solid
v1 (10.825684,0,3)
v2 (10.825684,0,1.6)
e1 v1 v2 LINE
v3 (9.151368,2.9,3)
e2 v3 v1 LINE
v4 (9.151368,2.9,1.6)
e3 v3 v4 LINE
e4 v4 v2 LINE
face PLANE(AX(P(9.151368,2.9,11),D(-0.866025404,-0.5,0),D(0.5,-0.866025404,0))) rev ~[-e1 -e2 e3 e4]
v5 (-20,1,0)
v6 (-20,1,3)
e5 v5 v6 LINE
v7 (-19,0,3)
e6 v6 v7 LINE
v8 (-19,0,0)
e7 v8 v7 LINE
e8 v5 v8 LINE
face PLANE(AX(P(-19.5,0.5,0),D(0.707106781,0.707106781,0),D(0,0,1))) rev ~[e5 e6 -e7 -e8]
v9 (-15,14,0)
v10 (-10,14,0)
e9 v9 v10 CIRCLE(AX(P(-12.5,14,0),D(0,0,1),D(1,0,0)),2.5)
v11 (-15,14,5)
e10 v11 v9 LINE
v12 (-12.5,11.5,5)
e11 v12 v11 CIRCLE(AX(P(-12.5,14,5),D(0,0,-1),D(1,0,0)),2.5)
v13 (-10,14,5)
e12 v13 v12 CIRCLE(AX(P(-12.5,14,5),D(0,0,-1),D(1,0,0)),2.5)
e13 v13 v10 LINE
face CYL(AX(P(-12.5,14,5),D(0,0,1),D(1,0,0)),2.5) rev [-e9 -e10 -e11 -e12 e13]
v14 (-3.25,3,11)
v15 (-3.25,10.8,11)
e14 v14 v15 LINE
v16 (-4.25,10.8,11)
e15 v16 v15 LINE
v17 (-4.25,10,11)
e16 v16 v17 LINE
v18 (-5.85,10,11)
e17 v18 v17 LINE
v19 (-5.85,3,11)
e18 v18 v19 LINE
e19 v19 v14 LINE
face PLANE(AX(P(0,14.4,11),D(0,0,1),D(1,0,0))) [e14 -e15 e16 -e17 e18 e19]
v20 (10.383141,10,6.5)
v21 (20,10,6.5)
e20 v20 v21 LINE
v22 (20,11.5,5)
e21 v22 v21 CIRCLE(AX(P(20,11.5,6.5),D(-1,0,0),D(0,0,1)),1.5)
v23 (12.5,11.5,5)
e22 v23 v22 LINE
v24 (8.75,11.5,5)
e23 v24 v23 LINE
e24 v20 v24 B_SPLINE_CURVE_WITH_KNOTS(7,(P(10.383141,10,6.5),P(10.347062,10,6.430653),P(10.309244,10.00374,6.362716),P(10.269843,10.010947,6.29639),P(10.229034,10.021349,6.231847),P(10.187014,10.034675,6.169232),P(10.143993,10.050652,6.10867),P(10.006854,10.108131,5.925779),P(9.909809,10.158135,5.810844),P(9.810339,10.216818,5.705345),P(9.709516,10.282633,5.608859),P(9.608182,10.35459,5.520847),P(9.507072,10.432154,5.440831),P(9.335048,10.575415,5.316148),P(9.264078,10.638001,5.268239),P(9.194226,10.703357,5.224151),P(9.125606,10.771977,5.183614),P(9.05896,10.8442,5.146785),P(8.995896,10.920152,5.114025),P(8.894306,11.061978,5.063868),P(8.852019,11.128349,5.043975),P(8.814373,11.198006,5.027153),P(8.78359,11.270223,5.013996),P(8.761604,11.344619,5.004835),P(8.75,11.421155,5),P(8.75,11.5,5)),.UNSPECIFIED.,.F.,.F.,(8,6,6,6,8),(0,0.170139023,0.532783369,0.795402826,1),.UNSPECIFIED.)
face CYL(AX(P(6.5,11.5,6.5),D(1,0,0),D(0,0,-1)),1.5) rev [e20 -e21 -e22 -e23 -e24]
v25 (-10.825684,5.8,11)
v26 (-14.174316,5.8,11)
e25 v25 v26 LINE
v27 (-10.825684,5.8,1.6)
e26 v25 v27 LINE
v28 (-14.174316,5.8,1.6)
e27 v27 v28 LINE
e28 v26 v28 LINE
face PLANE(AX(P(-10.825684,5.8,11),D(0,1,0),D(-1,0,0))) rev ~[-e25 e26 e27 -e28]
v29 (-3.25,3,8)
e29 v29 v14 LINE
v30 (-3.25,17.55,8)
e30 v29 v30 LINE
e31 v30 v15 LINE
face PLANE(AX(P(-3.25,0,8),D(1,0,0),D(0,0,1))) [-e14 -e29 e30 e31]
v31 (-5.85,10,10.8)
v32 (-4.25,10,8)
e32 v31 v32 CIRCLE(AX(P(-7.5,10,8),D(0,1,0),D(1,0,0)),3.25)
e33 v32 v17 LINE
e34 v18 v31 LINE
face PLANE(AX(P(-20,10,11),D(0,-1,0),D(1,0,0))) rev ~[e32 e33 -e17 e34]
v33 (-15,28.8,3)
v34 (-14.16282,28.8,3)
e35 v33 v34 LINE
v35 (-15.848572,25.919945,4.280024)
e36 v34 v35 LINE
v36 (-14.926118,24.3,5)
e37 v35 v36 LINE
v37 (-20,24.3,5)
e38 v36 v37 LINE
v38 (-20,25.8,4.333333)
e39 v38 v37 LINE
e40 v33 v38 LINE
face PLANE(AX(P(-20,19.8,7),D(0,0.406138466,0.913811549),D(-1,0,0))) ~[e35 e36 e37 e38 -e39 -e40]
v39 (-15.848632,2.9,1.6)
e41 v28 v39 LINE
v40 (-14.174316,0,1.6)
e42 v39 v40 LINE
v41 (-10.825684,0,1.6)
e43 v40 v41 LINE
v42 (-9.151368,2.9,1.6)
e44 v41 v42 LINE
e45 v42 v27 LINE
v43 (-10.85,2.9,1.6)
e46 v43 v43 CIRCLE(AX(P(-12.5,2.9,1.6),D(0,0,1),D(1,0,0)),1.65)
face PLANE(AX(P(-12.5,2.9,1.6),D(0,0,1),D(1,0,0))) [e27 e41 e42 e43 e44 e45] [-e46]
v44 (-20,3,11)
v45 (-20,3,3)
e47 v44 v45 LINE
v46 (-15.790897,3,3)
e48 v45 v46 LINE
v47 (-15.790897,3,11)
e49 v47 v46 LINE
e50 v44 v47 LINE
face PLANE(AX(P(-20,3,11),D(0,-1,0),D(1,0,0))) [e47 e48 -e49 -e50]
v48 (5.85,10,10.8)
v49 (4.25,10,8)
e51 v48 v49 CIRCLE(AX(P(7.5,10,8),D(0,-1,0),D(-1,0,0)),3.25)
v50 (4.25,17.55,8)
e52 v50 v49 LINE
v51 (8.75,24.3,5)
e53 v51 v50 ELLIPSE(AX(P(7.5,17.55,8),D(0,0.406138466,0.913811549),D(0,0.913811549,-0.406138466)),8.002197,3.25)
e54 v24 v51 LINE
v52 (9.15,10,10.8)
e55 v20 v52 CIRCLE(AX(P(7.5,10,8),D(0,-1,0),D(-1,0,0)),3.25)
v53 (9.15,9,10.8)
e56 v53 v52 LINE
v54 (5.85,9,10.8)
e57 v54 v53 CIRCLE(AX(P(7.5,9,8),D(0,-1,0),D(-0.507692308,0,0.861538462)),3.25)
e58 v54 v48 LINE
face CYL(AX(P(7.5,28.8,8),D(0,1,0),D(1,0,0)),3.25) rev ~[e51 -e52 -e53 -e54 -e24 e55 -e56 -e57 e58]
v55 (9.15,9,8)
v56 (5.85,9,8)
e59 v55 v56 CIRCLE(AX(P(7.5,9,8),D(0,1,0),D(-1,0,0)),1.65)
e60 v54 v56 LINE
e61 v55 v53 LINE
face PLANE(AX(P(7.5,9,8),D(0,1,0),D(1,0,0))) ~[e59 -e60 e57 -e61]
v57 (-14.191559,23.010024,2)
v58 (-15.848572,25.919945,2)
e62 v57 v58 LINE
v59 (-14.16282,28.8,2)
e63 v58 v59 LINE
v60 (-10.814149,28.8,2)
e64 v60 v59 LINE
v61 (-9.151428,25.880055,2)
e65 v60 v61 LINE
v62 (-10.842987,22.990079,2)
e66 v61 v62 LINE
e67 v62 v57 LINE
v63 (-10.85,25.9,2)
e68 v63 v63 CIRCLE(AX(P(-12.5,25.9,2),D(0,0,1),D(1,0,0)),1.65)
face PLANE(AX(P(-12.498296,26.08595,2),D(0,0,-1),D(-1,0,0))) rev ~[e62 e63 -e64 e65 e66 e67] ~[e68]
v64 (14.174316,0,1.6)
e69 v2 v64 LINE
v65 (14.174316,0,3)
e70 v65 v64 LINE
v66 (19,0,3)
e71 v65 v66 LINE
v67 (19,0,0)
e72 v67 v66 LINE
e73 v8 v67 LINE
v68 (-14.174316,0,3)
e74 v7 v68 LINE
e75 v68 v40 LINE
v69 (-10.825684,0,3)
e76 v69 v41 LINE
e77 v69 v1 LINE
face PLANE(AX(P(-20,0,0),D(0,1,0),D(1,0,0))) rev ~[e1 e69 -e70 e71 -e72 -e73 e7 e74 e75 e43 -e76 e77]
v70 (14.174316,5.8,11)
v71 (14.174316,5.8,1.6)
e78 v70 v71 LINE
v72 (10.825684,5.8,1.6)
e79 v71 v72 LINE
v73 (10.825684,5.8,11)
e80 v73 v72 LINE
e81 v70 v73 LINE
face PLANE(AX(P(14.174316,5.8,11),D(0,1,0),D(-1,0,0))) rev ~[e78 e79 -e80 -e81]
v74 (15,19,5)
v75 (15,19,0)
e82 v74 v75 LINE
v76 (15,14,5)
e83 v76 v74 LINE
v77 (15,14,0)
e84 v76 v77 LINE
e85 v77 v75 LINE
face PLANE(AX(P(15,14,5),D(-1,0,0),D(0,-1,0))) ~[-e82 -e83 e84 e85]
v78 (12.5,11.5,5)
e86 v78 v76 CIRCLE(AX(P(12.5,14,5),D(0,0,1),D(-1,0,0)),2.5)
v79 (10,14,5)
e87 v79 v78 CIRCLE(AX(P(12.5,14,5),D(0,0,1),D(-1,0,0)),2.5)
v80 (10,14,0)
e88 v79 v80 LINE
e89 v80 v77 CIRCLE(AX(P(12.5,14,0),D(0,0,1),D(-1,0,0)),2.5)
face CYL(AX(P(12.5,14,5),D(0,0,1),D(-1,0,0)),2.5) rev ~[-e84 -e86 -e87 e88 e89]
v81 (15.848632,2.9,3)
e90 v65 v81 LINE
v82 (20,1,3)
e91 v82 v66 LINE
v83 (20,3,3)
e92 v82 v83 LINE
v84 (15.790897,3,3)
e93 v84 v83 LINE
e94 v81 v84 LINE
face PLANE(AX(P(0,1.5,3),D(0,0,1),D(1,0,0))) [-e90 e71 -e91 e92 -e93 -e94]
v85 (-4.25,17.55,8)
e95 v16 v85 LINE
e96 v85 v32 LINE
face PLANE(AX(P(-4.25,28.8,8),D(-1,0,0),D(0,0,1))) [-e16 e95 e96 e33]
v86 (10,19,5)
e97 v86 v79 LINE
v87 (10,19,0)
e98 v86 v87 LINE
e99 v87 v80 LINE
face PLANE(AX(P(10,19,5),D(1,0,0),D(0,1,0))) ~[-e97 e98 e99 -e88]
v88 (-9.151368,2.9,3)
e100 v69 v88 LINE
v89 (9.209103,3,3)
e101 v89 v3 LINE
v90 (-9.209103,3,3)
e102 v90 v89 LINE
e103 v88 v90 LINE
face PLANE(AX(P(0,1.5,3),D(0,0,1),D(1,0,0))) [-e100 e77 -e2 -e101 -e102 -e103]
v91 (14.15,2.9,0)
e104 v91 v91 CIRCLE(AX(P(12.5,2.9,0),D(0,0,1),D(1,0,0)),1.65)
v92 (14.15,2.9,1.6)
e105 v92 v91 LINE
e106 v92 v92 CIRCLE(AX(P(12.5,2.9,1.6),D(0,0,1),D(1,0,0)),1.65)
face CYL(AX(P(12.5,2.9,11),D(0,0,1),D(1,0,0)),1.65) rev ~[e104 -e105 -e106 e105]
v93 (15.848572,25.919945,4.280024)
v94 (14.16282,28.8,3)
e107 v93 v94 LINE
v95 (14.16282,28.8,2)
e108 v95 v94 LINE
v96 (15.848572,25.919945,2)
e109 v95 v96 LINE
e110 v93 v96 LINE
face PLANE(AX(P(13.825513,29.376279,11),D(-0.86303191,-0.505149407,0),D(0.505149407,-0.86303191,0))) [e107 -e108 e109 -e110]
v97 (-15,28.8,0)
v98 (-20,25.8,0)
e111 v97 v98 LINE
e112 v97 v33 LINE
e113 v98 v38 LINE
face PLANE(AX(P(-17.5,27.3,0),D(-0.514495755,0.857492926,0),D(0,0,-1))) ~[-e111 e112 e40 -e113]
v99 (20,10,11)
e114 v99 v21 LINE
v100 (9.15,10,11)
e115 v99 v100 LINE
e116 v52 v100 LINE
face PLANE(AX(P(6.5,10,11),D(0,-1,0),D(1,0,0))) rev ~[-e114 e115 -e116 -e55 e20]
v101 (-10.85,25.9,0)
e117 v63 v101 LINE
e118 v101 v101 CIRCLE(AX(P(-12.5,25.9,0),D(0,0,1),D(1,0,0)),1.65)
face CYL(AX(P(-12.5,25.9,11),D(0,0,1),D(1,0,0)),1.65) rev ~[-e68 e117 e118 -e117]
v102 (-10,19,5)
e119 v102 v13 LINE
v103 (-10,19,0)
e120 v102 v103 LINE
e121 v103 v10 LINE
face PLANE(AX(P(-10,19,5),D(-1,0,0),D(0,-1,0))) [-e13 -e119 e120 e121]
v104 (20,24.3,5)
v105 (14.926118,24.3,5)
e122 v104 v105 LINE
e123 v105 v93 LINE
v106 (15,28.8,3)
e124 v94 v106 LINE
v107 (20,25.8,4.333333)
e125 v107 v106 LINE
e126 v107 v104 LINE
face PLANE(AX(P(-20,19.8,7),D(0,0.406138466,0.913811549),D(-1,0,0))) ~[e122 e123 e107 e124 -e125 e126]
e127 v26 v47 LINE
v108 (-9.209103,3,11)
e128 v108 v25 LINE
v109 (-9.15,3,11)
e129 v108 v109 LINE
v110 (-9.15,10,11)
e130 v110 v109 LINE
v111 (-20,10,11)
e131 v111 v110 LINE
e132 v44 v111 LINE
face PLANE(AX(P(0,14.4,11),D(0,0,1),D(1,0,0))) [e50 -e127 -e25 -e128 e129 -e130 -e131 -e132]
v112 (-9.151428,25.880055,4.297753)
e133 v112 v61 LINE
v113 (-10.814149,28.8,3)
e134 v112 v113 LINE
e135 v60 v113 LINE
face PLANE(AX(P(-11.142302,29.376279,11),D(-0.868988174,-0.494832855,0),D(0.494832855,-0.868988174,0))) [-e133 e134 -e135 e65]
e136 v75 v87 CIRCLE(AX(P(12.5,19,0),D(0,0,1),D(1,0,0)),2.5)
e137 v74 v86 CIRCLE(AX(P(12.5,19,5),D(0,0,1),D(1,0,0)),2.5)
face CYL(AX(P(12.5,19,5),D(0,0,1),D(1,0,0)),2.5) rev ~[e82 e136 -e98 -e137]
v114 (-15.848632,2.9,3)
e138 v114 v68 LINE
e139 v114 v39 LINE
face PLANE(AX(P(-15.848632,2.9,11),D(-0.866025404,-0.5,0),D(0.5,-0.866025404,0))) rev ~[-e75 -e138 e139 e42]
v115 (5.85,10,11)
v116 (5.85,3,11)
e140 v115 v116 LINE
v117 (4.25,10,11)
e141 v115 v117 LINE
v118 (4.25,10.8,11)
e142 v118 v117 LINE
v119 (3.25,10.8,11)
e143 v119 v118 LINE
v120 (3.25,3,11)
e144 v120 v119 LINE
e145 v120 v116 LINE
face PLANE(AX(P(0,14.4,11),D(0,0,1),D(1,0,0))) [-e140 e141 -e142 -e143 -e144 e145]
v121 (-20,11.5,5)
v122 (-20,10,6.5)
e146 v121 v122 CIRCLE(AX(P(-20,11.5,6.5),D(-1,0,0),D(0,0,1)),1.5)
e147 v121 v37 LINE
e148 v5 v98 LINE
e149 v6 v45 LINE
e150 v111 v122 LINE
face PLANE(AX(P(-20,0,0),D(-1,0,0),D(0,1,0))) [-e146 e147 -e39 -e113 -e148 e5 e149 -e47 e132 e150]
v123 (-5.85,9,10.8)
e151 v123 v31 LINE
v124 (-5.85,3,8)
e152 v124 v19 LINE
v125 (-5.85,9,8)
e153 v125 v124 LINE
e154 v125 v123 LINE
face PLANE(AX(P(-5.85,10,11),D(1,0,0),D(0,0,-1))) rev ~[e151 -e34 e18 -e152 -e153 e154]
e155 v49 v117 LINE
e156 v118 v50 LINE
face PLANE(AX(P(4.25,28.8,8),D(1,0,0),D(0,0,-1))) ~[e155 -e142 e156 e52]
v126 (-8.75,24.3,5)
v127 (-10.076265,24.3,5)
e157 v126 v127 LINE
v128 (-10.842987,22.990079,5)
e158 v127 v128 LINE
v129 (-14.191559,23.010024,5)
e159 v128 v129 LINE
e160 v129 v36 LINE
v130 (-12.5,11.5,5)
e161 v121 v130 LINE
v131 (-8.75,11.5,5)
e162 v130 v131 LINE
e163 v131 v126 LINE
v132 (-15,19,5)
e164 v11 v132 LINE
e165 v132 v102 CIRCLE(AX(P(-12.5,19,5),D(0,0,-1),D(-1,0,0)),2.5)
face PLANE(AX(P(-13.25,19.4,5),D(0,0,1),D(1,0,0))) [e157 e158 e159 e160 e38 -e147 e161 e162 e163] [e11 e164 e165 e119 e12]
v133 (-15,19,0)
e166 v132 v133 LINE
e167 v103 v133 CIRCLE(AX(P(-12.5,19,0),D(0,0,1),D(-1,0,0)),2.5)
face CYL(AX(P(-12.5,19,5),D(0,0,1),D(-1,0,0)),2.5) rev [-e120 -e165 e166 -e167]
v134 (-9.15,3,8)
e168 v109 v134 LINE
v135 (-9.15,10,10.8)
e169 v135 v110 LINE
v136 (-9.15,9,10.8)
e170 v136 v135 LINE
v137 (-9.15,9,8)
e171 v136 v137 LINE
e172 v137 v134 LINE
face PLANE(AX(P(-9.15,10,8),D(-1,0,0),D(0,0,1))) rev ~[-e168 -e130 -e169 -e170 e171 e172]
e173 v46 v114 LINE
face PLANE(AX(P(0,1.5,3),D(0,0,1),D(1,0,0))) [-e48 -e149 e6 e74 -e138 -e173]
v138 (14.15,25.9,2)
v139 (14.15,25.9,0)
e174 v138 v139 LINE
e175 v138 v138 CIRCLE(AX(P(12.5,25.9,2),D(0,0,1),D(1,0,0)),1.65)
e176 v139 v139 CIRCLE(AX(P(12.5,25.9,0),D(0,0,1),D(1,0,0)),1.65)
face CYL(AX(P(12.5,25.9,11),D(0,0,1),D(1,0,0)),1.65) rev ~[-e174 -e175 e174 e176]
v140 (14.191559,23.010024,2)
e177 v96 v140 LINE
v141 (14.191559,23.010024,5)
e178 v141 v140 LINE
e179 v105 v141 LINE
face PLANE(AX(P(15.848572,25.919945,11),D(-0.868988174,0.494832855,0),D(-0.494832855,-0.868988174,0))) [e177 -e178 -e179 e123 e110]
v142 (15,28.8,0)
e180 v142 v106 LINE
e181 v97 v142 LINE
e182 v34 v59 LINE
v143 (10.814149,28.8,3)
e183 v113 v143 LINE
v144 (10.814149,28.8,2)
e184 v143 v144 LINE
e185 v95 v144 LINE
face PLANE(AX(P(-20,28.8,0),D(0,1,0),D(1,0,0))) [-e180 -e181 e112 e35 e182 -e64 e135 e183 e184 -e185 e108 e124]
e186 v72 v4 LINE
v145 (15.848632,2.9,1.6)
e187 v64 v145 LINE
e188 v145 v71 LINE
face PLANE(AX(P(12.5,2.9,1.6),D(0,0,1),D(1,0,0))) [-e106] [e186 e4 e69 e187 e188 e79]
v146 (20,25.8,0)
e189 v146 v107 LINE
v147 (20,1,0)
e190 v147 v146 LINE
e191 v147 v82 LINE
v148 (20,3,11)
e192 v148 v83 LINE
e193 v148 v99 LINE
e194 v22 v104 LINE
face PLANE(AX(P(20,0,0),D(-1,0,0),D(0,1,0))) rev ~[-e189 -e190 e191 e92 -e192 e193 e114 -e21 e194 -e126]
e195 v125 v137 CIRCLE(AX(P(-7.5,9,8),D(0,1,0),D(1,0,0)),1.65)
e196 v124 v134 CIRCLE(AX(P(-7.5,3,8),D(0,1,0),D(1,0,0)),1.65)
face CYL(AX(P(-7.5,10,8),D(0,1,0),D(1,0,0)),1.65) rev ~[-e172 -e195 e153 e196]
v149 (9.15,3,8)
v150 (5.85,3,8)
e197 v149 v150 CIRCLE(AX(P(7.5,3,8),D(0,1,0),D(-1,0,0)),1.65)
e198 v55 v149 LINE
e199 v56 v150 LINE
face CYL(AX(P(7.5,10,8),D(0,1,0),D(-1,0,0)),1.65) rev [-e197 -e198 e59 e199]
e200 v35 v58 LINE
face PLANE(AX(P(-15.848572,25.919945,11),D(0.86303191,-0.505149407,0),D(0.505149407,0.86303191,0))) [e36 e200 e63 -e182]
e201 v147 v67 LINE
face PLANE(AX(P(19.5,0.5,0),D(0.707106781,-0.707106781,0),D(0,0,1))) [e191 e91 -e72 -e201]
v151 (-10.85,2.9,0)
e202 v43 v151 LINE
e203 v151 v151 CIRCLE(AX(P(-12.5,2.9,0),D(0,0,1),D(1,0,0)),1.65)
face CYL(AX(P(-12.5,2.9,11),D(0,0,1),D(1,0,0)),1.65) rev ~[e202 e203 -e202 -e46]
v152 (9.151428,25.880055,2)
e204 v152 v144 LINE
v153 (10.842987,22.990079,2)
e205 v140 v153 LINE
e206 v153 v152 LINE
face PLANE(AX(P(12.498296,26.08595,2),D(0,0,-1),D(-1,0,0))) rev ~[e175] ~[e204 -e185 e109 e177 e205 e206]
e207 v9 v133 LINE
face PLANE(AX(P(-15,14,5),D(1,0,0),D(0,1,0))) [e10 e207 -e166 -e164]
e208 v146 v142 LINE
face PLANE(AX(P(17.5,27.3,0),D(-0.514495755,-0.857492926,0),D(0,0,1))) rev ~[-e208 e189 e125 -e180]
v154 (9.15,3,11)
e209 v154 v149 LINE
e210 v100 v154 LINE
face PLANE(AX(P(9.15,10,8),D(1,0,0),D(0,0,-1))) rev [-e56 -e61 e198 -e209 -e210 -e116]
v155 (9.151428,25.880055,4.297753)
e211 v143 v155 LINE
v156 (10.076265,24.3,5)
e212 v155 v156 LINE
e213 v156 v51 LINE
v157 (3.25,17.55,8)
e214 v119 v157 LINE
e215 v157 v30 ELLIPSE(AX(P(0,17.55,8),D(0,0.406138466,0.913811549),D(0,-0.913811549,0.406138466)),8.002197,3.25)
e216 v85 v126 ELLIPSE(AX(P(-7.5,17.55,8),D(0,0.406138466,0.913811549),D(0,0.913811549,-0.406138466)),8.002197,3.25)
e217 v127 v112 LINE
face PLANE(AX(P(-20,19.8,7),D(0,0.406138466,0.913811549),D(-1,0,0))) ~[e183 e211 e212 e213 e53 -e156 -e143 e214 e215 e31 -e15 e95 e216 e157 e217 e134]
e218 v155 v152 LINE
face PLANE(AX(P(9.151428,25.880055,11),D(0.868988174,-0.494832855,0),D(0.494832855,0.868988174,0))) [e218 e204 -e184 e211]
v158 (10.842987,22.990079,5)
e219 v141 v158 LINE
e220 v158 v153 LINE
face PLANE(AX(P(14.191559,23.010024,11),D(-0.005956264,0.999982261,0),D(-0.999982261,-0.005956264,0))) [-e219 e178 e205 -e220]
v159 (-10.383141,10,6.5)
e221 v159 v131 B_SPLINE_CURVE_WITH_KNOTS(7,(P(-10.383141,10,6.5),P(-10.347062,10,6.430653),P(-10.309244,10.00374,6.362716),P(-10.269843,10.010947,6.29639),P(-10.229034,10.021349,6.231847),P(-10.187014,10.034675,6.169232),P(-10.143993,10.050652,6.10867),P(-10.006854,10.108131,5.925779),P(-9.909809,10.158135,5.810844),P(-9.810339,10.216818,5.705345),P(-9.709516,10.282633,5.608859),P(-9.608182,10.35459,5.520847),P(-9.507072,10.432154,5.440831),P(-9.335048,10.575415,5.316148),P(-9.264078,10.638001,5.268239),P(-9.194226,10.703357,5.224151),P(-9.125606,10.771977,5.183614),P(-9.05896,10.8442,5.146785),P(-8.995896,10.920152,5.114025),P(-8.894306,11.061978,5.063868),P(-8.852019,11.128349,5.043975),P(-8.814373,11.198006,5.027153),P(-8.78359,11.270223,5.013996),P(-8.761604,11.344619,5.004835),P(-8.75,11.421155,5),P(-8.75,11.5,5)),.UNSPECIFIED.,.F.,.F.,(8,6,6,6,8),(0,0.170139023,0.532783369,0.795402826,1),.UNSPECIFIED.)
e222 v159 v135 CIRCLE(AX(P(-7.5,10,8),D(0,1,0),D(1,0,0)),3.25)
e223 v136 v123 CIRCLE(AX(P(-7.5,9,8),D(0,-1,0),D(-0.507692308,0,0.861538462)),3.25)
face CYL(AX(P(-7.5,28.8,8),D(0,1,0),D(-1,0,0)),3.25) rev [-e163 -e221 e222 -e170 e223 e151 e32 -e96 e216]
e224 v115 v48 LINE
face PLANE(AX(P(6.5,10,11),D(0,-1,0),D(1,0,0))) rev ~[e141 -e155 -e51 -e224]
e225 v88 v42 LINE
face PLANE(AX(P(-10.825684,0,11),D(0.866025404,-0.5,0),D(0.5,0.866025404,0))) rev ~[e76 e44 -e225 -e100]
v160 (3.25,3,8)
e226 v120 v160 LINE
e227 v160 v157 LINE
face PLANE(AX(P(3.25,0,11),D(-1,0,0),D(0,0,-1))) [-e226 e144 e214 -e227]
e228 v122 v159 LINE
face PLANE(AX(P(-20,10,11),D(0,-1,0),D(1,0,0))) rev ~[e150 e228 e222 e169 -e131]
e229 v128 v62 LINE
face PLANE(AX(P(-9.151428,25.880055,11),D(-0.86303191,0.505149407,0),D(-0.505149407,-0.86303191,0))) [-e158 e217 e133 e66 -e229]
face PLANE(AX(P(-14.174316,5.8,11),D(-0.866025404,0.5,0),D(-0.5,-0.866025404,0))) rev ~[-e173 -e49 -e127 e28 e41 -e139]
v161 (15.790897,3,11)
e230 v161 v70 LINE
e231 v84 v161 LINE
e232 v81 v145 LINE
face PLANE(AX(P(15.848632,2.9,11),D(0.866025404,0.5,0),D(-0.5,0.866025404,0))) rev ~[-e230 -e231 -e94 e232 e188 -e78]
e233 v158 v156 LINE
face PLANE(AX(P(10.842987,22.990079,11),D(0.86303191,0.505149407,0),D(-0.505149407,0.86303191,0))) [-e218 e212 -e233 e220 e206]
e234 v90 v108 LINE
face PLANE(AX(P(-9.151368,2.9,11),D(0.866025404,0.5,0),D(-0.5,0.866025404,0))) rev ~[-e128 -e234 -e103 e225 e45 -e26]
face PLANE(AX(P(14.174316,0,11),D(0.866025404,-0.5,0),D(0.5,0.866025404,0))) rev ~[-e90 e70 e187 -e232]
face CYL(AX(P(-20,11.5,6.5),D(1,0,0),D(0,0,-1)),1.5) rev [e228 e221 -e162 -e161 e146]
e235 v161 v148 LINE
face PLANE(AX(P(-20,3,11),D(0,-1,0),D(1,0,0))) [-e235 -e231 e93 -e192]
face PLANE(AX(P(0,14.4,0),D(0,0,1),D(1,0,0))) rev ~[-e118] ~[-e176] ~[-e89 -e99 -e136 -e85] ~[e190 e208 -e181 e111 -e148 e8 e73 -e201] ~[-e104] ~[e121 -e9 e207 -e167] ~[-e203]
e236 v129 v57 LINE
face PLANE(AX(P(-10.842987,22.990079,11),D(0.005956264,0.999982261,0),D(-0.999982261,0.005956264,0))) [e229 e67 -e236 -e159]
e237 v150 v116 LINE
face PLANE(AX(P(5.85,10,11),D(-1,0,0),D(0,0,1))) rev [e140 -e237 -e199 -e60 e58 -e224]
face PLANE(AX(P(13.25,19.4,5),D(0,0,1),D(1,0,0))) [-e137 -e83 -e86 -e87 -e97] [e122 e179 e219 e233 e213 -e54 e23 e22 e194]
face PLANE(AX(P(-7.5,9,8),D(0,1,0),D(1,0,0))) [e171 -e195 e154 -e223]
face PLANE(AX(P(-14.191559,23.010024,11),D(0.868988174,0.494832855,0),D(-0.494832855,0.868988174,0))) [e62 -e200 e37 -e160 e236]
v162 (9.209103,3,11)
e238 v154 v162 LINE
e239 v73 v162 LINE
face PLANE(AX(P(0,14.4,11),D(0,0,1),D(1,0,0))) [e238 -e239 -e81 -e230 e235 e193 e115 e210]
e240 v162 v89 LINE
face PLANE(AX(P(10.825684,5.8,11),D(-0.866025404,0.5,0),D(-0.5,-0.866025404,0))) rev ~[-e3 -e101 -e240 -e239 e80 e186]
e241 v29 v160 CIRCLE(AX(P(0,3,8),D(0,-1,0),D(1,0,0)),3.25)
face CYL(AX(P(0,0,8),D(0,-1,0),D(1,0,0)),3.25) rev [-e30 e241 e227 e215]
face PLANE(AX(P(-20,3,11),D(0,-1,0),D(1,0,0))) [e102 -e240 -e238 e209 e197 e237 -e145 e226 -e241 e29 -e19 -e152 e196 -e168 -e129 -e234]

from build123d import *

# Parameters (mm, degrees)
SKETCH1_W           = 40
SKETCH1_H           = 28.8
BOSS_EXTRUDE1_DEPTH = 11
CHAMFER2_SIZE       = 8
CHAMFER2_SIZE2      = 18
SKETCH10_W          = 13.5
SKETCH10_H          = 18.8
CUT_EXTRUDE7_DEPTH  = 6
FILLET1_R           = 1.5
SKETCH11_W          = 40
SKETCH11_H          = 3
CUT_EXTRUDE8_DEPTH  = 8
CUT_EXTRUDE9_DEPTH  = 18.8
CUT_EXTRUDE10_DEPTH = 11
CUT_EXTRUDE2_DEPTH  = 30
SKETCH2_R           = 1.65
CUT_EXTRUDE1_DEPTH  = 12
CUT_EXTRUDE4_DEPTH  = 9
SKETCH15_R          = 3.25
CUT_EXTRUDE12_DEPTH = 1
CUT_EXTRUDE13_DEPTH = 6
CHAMFER4_SIZE       = 3
CHAMFER4_SIZE2      = 5
CHAMFER5_SIZE       = 5
CHAMFER5_SIZE2      = 3
CUT_EXTRUDE11_DEPTH = 9.4
CHAMFER8_SIZE       = 1


with BuildPart() as part:
    # Sketch1 → Boss-Extrude1 (new body)
    with BuildSketch(Plane.XY):
        with Locations((0, 14.4)):
            Rectangle(SKETCH1_W, SKETCH1_H)
    extrude(amount=BOSS_EXTRUDE1_DEPTH)

    # Chamfer2
    chamfer2_edges = [part.edges().sort_by_distance(p)[0] for p in [
        (0, 28.8, 11),
    ]]
    chamfer2_side = [part.faces().sort_by_distance(p)[0] for p in [
        (0, 28.8, 5.5),
    ]]
    chamfer(chamfer2_edges, length=CHAMFER2_SIZE, length2=CHAMFER2_SIZE2, reference=chamfer2_side[0])

    # Sketch10 → Cut-Extrude7 (cut)
    with BuildSketch(Plane.XY.offset(11)):
        with Locations((-13.25, 19.4)):
            Rectangle(SKETCH10_W, SKETCH10_H)
        with Locations((13.25, 19.4)):
            Rectangle(SKETCH10_W, SKETCH10_H)
    extrude(amount=-CUT_EXTRUDE7_DEPTH, mode=Mode.SUBTRACT)

    # Fillet1
    fillet1_edges = [part.edges().sort_by_distance(p)[0] for p in [
        (-13.25, 10, 5),
        (13.25, 10, 5),
    ]]
    fillet(fillet1_edges, radius=FILLET1_R)

    # Sketch11 → Cut-Extrude8 (cut)
    with BuildSketch(Plane.XY.offset(11)):
        with Locations((0, 1.5)):
            Rectangle(SKETCH11_W, SKETCH11_H)
    extrude(amount=-CUT_EXTRUDE8_DEPTH, mode=Mode.SUBTRACT)

    # Sketch12 → Cut-Extrude9 (cut)
    with BuildSketch(Plane(origin=(0, 28.8, 0), x_dir=(1, 0, 0), z_dir=(0, 1, 0))):
        with BuildLine():
            Line((-4.25, -8), (-4.25, -11))
            Line((-4.25, -11), (-10.75, -11))
            Line((-10.75, -11), (-10.75, -8))
            ThreePointArc((-10.75, -8), (-7.5, -4.75), (-4.25, -8))
        make_face()
    cut_extrude9 = extrude(amount=-CUT_EXTRUDE9_DEPTH, mode=Mode.SUBTRACT)

    # Sketch13 → Cut-Extrude10 (cut, through all)
    with BuildSketch(Plane(origin=(0, 10, 0), x_dir=(1, 0, 0), z_dir=(0, 1, 0))):
        with BuildLine():
            Line((-9.15, -8), (-9.15, -11))
            Line((-9.15, -11), (-5.85, -11))
            Line((-5.85, -11), (-5.85, -8))
            ThreePointArc((-5.85, -8), (-7.5, -6.35), (-9.15, -8))
        make_face()
    cut_extrude10 = extrude(amount=-CUT_EXTRUDE10_DEPTH, mode=Mode.SUBTRACT)

    # Sketch3 → Cut-Extrude2 (cut)
    with BuildSketch(Plane.XZ):
        with BuildLine():
            Line((-3.25, 8), (-3.25, 11))
            Line((-3.25, 11), (3.25, 11))
            Line((3.25, 11), (3.25, 8))
            ThreePointArc((3.25, 8), (0, 4.75), (-3.25, 8))
        make_face()
    extrude(amount=-CUT_EXTRUDE2_DEPTH, mode=Mode.SUBTRACT)

    # Sketch2 → Cut-Extrude1 (cut, through all)
    with BuildSketch(Plane.XY.offset(11)):
        with Locations((-12.5, 2.9)):
            Circle(SKETCH2_R)
        with Locations((12.5, 2.9)):
            Circle(SKETCH2_R)
        with Locations((12.5, 25.9)):
            Circle(SKETCH2_R)
        with Locations((-12.5, 25.9)):
            Circle(SKETCH2_R)
    extrude(amount=-CUT_EXTRUDE1_DEPTH, mode=Mode.SUBTRACT)

    # Sketch5 → Cut-Extrude4 (cut)
    with BuildSketch(Plane.XY.offset(11)):
        Polygon((-13.825512835, 29.376278709), (-11.142302486, 29.376278709), (-9.151427839, 25.880054666), (-10.842987085, 22.990078775), (-14.191559246, 23.010024109), (-15.848572161, 25.919945334), align=None)
        Polygon((11.142302486, 29.376278709), (13.825512835, 29.376278709), (15.848572161, 25.919945334), (14.191559246, 23.010024109), (10.842987085, 22.990078775), (9.151427839, 25.880054666), align=None)
    extrude(amount=-CUT_EXTRUDE4_DEPTH, mode=Mode.SUBTRACT)

    # Sketch15 → Cut-Extrude12 (cut)
    with BuildSketch(Plane(origin=(0, 10, 0), x_dir=(1, 0, 0), z_dir=(0, 1, 0))):
        with Locations((-7.5, -8)):
            Circle(SKETCH15_R)
    cut_extrude12 = extrude(amount=-CUT_EXTRUDE12_DEPTH, mode=Mode.SUBTRACT)

    # Sketch16 → Cut-Extrude13 (cut, through all)
    with BuildSketch(Plane.XY.offset(5)):
        with BuildLine():
            Line((-15, 14), (-15, 19))
            ThreePointArc((-15, 19), (-12.5, 21.5), (-10, 19))
            Line((-10, 19), (-10, 14))
            ThreePointArc((-10, 14), (-12.5, 11.5), (-15, 14))
        make_face()
    cut_extrude13 = extrude(amount=-CUT_EXTRUDE13_DEPTH, mode=Mode.SUBTRACT)

    # Mirror1: Cut-Extrude9, Cut-Extrude10, Cut-Extrude12, Cut-Extrude13 across plane
    add(cut_extrude9.mirror(Plane(origin=(0, 0, 0), x_dir=(0, 0, 1), z_dir=(1, 0, 0))), mode=Mode.SUBTRACT)
    add(cut_extrude10.mirror(Plane(origin=(0, 0, 0), x_dir=(0, 0, 1), z_dir=(1, 0, 0))), mode=Mode.SUBTRACT)
    add(cut_extrude12.mirror(Plane(origin=(0, 0, 0), x_dir=(0, 0, 1), z_dir=(1, 0, 0))), mode=Mode.SUBTRACT)
    add(cut_extrude13.mirror(Plane(origin=(0, 0, 0), x_dir=(0, 0, 1), z_dir=(1, 0, 0))), mode=Mode.SUBTRACT)

    # Chamfer4
    chamfer4_edges = [part.edges().sort_by_distance(p)[0] for p in [
        (20, 28.8, 1.5),
    ]]
    chamfer4_side = [part.faces().sort_by_distance(p)[0] for p in [
        (20, 12.613389716, 3.722385656),
    ]]
    chamfer(chamfer4_edges, length=CHAMFER4_SIZE, length2=CHAMFER4_SIZE2, reference=chamfer4_side[0])

    # Chamfer5
    chamfer5_edges = [part.edges().sort_by_distance(p)[0] for p in [
        (-20, 28.8, 1.5),
    ]]
    chamfer5_side = [part.faces().sort_by_distance(p)[0] for p in [
        (-2.670324549, 28.8, 1.43187018),
    ]]
    chamfer(chamfer5_edges, length=CHAMFER5_SIZE, length2=CHAMFER5_SIZE2, reference=chamfer5_side[0])

    # Sketch14 → Cut-Extrude11 (cut)
    with BuildSketch(Plane.XY.offset(11)):
        Polygon((-9.151368439, 2.9), (-10.825684219, 5.8), (-14.174315781, 5.8), (-15.848631561, 2.9), (-14.174315781, 0), (-10.825684219, 0), align=None)
        Polygon((15.848631561, 2.9), (14.174315781, 5.8), (10.825684219, 5.8), (9.151368439, 2.9), (10.825684219, 0), (14.174315781, 0), align=None)
    extrude(amount=-CUT_EXTRUDE11_DEPTH, mode=Mode.SUBTRACT)

    # Chamfer8
    chamfer8_edges = [part.edges().sort_by_distance(p)[0] for p in [
        (20, 0, 1.5),
        (-20, 0, 1.5),
    ]]
    chamfer(chamfer8_edges, length=CHAMFER8_SIZE)


solid = part.part
